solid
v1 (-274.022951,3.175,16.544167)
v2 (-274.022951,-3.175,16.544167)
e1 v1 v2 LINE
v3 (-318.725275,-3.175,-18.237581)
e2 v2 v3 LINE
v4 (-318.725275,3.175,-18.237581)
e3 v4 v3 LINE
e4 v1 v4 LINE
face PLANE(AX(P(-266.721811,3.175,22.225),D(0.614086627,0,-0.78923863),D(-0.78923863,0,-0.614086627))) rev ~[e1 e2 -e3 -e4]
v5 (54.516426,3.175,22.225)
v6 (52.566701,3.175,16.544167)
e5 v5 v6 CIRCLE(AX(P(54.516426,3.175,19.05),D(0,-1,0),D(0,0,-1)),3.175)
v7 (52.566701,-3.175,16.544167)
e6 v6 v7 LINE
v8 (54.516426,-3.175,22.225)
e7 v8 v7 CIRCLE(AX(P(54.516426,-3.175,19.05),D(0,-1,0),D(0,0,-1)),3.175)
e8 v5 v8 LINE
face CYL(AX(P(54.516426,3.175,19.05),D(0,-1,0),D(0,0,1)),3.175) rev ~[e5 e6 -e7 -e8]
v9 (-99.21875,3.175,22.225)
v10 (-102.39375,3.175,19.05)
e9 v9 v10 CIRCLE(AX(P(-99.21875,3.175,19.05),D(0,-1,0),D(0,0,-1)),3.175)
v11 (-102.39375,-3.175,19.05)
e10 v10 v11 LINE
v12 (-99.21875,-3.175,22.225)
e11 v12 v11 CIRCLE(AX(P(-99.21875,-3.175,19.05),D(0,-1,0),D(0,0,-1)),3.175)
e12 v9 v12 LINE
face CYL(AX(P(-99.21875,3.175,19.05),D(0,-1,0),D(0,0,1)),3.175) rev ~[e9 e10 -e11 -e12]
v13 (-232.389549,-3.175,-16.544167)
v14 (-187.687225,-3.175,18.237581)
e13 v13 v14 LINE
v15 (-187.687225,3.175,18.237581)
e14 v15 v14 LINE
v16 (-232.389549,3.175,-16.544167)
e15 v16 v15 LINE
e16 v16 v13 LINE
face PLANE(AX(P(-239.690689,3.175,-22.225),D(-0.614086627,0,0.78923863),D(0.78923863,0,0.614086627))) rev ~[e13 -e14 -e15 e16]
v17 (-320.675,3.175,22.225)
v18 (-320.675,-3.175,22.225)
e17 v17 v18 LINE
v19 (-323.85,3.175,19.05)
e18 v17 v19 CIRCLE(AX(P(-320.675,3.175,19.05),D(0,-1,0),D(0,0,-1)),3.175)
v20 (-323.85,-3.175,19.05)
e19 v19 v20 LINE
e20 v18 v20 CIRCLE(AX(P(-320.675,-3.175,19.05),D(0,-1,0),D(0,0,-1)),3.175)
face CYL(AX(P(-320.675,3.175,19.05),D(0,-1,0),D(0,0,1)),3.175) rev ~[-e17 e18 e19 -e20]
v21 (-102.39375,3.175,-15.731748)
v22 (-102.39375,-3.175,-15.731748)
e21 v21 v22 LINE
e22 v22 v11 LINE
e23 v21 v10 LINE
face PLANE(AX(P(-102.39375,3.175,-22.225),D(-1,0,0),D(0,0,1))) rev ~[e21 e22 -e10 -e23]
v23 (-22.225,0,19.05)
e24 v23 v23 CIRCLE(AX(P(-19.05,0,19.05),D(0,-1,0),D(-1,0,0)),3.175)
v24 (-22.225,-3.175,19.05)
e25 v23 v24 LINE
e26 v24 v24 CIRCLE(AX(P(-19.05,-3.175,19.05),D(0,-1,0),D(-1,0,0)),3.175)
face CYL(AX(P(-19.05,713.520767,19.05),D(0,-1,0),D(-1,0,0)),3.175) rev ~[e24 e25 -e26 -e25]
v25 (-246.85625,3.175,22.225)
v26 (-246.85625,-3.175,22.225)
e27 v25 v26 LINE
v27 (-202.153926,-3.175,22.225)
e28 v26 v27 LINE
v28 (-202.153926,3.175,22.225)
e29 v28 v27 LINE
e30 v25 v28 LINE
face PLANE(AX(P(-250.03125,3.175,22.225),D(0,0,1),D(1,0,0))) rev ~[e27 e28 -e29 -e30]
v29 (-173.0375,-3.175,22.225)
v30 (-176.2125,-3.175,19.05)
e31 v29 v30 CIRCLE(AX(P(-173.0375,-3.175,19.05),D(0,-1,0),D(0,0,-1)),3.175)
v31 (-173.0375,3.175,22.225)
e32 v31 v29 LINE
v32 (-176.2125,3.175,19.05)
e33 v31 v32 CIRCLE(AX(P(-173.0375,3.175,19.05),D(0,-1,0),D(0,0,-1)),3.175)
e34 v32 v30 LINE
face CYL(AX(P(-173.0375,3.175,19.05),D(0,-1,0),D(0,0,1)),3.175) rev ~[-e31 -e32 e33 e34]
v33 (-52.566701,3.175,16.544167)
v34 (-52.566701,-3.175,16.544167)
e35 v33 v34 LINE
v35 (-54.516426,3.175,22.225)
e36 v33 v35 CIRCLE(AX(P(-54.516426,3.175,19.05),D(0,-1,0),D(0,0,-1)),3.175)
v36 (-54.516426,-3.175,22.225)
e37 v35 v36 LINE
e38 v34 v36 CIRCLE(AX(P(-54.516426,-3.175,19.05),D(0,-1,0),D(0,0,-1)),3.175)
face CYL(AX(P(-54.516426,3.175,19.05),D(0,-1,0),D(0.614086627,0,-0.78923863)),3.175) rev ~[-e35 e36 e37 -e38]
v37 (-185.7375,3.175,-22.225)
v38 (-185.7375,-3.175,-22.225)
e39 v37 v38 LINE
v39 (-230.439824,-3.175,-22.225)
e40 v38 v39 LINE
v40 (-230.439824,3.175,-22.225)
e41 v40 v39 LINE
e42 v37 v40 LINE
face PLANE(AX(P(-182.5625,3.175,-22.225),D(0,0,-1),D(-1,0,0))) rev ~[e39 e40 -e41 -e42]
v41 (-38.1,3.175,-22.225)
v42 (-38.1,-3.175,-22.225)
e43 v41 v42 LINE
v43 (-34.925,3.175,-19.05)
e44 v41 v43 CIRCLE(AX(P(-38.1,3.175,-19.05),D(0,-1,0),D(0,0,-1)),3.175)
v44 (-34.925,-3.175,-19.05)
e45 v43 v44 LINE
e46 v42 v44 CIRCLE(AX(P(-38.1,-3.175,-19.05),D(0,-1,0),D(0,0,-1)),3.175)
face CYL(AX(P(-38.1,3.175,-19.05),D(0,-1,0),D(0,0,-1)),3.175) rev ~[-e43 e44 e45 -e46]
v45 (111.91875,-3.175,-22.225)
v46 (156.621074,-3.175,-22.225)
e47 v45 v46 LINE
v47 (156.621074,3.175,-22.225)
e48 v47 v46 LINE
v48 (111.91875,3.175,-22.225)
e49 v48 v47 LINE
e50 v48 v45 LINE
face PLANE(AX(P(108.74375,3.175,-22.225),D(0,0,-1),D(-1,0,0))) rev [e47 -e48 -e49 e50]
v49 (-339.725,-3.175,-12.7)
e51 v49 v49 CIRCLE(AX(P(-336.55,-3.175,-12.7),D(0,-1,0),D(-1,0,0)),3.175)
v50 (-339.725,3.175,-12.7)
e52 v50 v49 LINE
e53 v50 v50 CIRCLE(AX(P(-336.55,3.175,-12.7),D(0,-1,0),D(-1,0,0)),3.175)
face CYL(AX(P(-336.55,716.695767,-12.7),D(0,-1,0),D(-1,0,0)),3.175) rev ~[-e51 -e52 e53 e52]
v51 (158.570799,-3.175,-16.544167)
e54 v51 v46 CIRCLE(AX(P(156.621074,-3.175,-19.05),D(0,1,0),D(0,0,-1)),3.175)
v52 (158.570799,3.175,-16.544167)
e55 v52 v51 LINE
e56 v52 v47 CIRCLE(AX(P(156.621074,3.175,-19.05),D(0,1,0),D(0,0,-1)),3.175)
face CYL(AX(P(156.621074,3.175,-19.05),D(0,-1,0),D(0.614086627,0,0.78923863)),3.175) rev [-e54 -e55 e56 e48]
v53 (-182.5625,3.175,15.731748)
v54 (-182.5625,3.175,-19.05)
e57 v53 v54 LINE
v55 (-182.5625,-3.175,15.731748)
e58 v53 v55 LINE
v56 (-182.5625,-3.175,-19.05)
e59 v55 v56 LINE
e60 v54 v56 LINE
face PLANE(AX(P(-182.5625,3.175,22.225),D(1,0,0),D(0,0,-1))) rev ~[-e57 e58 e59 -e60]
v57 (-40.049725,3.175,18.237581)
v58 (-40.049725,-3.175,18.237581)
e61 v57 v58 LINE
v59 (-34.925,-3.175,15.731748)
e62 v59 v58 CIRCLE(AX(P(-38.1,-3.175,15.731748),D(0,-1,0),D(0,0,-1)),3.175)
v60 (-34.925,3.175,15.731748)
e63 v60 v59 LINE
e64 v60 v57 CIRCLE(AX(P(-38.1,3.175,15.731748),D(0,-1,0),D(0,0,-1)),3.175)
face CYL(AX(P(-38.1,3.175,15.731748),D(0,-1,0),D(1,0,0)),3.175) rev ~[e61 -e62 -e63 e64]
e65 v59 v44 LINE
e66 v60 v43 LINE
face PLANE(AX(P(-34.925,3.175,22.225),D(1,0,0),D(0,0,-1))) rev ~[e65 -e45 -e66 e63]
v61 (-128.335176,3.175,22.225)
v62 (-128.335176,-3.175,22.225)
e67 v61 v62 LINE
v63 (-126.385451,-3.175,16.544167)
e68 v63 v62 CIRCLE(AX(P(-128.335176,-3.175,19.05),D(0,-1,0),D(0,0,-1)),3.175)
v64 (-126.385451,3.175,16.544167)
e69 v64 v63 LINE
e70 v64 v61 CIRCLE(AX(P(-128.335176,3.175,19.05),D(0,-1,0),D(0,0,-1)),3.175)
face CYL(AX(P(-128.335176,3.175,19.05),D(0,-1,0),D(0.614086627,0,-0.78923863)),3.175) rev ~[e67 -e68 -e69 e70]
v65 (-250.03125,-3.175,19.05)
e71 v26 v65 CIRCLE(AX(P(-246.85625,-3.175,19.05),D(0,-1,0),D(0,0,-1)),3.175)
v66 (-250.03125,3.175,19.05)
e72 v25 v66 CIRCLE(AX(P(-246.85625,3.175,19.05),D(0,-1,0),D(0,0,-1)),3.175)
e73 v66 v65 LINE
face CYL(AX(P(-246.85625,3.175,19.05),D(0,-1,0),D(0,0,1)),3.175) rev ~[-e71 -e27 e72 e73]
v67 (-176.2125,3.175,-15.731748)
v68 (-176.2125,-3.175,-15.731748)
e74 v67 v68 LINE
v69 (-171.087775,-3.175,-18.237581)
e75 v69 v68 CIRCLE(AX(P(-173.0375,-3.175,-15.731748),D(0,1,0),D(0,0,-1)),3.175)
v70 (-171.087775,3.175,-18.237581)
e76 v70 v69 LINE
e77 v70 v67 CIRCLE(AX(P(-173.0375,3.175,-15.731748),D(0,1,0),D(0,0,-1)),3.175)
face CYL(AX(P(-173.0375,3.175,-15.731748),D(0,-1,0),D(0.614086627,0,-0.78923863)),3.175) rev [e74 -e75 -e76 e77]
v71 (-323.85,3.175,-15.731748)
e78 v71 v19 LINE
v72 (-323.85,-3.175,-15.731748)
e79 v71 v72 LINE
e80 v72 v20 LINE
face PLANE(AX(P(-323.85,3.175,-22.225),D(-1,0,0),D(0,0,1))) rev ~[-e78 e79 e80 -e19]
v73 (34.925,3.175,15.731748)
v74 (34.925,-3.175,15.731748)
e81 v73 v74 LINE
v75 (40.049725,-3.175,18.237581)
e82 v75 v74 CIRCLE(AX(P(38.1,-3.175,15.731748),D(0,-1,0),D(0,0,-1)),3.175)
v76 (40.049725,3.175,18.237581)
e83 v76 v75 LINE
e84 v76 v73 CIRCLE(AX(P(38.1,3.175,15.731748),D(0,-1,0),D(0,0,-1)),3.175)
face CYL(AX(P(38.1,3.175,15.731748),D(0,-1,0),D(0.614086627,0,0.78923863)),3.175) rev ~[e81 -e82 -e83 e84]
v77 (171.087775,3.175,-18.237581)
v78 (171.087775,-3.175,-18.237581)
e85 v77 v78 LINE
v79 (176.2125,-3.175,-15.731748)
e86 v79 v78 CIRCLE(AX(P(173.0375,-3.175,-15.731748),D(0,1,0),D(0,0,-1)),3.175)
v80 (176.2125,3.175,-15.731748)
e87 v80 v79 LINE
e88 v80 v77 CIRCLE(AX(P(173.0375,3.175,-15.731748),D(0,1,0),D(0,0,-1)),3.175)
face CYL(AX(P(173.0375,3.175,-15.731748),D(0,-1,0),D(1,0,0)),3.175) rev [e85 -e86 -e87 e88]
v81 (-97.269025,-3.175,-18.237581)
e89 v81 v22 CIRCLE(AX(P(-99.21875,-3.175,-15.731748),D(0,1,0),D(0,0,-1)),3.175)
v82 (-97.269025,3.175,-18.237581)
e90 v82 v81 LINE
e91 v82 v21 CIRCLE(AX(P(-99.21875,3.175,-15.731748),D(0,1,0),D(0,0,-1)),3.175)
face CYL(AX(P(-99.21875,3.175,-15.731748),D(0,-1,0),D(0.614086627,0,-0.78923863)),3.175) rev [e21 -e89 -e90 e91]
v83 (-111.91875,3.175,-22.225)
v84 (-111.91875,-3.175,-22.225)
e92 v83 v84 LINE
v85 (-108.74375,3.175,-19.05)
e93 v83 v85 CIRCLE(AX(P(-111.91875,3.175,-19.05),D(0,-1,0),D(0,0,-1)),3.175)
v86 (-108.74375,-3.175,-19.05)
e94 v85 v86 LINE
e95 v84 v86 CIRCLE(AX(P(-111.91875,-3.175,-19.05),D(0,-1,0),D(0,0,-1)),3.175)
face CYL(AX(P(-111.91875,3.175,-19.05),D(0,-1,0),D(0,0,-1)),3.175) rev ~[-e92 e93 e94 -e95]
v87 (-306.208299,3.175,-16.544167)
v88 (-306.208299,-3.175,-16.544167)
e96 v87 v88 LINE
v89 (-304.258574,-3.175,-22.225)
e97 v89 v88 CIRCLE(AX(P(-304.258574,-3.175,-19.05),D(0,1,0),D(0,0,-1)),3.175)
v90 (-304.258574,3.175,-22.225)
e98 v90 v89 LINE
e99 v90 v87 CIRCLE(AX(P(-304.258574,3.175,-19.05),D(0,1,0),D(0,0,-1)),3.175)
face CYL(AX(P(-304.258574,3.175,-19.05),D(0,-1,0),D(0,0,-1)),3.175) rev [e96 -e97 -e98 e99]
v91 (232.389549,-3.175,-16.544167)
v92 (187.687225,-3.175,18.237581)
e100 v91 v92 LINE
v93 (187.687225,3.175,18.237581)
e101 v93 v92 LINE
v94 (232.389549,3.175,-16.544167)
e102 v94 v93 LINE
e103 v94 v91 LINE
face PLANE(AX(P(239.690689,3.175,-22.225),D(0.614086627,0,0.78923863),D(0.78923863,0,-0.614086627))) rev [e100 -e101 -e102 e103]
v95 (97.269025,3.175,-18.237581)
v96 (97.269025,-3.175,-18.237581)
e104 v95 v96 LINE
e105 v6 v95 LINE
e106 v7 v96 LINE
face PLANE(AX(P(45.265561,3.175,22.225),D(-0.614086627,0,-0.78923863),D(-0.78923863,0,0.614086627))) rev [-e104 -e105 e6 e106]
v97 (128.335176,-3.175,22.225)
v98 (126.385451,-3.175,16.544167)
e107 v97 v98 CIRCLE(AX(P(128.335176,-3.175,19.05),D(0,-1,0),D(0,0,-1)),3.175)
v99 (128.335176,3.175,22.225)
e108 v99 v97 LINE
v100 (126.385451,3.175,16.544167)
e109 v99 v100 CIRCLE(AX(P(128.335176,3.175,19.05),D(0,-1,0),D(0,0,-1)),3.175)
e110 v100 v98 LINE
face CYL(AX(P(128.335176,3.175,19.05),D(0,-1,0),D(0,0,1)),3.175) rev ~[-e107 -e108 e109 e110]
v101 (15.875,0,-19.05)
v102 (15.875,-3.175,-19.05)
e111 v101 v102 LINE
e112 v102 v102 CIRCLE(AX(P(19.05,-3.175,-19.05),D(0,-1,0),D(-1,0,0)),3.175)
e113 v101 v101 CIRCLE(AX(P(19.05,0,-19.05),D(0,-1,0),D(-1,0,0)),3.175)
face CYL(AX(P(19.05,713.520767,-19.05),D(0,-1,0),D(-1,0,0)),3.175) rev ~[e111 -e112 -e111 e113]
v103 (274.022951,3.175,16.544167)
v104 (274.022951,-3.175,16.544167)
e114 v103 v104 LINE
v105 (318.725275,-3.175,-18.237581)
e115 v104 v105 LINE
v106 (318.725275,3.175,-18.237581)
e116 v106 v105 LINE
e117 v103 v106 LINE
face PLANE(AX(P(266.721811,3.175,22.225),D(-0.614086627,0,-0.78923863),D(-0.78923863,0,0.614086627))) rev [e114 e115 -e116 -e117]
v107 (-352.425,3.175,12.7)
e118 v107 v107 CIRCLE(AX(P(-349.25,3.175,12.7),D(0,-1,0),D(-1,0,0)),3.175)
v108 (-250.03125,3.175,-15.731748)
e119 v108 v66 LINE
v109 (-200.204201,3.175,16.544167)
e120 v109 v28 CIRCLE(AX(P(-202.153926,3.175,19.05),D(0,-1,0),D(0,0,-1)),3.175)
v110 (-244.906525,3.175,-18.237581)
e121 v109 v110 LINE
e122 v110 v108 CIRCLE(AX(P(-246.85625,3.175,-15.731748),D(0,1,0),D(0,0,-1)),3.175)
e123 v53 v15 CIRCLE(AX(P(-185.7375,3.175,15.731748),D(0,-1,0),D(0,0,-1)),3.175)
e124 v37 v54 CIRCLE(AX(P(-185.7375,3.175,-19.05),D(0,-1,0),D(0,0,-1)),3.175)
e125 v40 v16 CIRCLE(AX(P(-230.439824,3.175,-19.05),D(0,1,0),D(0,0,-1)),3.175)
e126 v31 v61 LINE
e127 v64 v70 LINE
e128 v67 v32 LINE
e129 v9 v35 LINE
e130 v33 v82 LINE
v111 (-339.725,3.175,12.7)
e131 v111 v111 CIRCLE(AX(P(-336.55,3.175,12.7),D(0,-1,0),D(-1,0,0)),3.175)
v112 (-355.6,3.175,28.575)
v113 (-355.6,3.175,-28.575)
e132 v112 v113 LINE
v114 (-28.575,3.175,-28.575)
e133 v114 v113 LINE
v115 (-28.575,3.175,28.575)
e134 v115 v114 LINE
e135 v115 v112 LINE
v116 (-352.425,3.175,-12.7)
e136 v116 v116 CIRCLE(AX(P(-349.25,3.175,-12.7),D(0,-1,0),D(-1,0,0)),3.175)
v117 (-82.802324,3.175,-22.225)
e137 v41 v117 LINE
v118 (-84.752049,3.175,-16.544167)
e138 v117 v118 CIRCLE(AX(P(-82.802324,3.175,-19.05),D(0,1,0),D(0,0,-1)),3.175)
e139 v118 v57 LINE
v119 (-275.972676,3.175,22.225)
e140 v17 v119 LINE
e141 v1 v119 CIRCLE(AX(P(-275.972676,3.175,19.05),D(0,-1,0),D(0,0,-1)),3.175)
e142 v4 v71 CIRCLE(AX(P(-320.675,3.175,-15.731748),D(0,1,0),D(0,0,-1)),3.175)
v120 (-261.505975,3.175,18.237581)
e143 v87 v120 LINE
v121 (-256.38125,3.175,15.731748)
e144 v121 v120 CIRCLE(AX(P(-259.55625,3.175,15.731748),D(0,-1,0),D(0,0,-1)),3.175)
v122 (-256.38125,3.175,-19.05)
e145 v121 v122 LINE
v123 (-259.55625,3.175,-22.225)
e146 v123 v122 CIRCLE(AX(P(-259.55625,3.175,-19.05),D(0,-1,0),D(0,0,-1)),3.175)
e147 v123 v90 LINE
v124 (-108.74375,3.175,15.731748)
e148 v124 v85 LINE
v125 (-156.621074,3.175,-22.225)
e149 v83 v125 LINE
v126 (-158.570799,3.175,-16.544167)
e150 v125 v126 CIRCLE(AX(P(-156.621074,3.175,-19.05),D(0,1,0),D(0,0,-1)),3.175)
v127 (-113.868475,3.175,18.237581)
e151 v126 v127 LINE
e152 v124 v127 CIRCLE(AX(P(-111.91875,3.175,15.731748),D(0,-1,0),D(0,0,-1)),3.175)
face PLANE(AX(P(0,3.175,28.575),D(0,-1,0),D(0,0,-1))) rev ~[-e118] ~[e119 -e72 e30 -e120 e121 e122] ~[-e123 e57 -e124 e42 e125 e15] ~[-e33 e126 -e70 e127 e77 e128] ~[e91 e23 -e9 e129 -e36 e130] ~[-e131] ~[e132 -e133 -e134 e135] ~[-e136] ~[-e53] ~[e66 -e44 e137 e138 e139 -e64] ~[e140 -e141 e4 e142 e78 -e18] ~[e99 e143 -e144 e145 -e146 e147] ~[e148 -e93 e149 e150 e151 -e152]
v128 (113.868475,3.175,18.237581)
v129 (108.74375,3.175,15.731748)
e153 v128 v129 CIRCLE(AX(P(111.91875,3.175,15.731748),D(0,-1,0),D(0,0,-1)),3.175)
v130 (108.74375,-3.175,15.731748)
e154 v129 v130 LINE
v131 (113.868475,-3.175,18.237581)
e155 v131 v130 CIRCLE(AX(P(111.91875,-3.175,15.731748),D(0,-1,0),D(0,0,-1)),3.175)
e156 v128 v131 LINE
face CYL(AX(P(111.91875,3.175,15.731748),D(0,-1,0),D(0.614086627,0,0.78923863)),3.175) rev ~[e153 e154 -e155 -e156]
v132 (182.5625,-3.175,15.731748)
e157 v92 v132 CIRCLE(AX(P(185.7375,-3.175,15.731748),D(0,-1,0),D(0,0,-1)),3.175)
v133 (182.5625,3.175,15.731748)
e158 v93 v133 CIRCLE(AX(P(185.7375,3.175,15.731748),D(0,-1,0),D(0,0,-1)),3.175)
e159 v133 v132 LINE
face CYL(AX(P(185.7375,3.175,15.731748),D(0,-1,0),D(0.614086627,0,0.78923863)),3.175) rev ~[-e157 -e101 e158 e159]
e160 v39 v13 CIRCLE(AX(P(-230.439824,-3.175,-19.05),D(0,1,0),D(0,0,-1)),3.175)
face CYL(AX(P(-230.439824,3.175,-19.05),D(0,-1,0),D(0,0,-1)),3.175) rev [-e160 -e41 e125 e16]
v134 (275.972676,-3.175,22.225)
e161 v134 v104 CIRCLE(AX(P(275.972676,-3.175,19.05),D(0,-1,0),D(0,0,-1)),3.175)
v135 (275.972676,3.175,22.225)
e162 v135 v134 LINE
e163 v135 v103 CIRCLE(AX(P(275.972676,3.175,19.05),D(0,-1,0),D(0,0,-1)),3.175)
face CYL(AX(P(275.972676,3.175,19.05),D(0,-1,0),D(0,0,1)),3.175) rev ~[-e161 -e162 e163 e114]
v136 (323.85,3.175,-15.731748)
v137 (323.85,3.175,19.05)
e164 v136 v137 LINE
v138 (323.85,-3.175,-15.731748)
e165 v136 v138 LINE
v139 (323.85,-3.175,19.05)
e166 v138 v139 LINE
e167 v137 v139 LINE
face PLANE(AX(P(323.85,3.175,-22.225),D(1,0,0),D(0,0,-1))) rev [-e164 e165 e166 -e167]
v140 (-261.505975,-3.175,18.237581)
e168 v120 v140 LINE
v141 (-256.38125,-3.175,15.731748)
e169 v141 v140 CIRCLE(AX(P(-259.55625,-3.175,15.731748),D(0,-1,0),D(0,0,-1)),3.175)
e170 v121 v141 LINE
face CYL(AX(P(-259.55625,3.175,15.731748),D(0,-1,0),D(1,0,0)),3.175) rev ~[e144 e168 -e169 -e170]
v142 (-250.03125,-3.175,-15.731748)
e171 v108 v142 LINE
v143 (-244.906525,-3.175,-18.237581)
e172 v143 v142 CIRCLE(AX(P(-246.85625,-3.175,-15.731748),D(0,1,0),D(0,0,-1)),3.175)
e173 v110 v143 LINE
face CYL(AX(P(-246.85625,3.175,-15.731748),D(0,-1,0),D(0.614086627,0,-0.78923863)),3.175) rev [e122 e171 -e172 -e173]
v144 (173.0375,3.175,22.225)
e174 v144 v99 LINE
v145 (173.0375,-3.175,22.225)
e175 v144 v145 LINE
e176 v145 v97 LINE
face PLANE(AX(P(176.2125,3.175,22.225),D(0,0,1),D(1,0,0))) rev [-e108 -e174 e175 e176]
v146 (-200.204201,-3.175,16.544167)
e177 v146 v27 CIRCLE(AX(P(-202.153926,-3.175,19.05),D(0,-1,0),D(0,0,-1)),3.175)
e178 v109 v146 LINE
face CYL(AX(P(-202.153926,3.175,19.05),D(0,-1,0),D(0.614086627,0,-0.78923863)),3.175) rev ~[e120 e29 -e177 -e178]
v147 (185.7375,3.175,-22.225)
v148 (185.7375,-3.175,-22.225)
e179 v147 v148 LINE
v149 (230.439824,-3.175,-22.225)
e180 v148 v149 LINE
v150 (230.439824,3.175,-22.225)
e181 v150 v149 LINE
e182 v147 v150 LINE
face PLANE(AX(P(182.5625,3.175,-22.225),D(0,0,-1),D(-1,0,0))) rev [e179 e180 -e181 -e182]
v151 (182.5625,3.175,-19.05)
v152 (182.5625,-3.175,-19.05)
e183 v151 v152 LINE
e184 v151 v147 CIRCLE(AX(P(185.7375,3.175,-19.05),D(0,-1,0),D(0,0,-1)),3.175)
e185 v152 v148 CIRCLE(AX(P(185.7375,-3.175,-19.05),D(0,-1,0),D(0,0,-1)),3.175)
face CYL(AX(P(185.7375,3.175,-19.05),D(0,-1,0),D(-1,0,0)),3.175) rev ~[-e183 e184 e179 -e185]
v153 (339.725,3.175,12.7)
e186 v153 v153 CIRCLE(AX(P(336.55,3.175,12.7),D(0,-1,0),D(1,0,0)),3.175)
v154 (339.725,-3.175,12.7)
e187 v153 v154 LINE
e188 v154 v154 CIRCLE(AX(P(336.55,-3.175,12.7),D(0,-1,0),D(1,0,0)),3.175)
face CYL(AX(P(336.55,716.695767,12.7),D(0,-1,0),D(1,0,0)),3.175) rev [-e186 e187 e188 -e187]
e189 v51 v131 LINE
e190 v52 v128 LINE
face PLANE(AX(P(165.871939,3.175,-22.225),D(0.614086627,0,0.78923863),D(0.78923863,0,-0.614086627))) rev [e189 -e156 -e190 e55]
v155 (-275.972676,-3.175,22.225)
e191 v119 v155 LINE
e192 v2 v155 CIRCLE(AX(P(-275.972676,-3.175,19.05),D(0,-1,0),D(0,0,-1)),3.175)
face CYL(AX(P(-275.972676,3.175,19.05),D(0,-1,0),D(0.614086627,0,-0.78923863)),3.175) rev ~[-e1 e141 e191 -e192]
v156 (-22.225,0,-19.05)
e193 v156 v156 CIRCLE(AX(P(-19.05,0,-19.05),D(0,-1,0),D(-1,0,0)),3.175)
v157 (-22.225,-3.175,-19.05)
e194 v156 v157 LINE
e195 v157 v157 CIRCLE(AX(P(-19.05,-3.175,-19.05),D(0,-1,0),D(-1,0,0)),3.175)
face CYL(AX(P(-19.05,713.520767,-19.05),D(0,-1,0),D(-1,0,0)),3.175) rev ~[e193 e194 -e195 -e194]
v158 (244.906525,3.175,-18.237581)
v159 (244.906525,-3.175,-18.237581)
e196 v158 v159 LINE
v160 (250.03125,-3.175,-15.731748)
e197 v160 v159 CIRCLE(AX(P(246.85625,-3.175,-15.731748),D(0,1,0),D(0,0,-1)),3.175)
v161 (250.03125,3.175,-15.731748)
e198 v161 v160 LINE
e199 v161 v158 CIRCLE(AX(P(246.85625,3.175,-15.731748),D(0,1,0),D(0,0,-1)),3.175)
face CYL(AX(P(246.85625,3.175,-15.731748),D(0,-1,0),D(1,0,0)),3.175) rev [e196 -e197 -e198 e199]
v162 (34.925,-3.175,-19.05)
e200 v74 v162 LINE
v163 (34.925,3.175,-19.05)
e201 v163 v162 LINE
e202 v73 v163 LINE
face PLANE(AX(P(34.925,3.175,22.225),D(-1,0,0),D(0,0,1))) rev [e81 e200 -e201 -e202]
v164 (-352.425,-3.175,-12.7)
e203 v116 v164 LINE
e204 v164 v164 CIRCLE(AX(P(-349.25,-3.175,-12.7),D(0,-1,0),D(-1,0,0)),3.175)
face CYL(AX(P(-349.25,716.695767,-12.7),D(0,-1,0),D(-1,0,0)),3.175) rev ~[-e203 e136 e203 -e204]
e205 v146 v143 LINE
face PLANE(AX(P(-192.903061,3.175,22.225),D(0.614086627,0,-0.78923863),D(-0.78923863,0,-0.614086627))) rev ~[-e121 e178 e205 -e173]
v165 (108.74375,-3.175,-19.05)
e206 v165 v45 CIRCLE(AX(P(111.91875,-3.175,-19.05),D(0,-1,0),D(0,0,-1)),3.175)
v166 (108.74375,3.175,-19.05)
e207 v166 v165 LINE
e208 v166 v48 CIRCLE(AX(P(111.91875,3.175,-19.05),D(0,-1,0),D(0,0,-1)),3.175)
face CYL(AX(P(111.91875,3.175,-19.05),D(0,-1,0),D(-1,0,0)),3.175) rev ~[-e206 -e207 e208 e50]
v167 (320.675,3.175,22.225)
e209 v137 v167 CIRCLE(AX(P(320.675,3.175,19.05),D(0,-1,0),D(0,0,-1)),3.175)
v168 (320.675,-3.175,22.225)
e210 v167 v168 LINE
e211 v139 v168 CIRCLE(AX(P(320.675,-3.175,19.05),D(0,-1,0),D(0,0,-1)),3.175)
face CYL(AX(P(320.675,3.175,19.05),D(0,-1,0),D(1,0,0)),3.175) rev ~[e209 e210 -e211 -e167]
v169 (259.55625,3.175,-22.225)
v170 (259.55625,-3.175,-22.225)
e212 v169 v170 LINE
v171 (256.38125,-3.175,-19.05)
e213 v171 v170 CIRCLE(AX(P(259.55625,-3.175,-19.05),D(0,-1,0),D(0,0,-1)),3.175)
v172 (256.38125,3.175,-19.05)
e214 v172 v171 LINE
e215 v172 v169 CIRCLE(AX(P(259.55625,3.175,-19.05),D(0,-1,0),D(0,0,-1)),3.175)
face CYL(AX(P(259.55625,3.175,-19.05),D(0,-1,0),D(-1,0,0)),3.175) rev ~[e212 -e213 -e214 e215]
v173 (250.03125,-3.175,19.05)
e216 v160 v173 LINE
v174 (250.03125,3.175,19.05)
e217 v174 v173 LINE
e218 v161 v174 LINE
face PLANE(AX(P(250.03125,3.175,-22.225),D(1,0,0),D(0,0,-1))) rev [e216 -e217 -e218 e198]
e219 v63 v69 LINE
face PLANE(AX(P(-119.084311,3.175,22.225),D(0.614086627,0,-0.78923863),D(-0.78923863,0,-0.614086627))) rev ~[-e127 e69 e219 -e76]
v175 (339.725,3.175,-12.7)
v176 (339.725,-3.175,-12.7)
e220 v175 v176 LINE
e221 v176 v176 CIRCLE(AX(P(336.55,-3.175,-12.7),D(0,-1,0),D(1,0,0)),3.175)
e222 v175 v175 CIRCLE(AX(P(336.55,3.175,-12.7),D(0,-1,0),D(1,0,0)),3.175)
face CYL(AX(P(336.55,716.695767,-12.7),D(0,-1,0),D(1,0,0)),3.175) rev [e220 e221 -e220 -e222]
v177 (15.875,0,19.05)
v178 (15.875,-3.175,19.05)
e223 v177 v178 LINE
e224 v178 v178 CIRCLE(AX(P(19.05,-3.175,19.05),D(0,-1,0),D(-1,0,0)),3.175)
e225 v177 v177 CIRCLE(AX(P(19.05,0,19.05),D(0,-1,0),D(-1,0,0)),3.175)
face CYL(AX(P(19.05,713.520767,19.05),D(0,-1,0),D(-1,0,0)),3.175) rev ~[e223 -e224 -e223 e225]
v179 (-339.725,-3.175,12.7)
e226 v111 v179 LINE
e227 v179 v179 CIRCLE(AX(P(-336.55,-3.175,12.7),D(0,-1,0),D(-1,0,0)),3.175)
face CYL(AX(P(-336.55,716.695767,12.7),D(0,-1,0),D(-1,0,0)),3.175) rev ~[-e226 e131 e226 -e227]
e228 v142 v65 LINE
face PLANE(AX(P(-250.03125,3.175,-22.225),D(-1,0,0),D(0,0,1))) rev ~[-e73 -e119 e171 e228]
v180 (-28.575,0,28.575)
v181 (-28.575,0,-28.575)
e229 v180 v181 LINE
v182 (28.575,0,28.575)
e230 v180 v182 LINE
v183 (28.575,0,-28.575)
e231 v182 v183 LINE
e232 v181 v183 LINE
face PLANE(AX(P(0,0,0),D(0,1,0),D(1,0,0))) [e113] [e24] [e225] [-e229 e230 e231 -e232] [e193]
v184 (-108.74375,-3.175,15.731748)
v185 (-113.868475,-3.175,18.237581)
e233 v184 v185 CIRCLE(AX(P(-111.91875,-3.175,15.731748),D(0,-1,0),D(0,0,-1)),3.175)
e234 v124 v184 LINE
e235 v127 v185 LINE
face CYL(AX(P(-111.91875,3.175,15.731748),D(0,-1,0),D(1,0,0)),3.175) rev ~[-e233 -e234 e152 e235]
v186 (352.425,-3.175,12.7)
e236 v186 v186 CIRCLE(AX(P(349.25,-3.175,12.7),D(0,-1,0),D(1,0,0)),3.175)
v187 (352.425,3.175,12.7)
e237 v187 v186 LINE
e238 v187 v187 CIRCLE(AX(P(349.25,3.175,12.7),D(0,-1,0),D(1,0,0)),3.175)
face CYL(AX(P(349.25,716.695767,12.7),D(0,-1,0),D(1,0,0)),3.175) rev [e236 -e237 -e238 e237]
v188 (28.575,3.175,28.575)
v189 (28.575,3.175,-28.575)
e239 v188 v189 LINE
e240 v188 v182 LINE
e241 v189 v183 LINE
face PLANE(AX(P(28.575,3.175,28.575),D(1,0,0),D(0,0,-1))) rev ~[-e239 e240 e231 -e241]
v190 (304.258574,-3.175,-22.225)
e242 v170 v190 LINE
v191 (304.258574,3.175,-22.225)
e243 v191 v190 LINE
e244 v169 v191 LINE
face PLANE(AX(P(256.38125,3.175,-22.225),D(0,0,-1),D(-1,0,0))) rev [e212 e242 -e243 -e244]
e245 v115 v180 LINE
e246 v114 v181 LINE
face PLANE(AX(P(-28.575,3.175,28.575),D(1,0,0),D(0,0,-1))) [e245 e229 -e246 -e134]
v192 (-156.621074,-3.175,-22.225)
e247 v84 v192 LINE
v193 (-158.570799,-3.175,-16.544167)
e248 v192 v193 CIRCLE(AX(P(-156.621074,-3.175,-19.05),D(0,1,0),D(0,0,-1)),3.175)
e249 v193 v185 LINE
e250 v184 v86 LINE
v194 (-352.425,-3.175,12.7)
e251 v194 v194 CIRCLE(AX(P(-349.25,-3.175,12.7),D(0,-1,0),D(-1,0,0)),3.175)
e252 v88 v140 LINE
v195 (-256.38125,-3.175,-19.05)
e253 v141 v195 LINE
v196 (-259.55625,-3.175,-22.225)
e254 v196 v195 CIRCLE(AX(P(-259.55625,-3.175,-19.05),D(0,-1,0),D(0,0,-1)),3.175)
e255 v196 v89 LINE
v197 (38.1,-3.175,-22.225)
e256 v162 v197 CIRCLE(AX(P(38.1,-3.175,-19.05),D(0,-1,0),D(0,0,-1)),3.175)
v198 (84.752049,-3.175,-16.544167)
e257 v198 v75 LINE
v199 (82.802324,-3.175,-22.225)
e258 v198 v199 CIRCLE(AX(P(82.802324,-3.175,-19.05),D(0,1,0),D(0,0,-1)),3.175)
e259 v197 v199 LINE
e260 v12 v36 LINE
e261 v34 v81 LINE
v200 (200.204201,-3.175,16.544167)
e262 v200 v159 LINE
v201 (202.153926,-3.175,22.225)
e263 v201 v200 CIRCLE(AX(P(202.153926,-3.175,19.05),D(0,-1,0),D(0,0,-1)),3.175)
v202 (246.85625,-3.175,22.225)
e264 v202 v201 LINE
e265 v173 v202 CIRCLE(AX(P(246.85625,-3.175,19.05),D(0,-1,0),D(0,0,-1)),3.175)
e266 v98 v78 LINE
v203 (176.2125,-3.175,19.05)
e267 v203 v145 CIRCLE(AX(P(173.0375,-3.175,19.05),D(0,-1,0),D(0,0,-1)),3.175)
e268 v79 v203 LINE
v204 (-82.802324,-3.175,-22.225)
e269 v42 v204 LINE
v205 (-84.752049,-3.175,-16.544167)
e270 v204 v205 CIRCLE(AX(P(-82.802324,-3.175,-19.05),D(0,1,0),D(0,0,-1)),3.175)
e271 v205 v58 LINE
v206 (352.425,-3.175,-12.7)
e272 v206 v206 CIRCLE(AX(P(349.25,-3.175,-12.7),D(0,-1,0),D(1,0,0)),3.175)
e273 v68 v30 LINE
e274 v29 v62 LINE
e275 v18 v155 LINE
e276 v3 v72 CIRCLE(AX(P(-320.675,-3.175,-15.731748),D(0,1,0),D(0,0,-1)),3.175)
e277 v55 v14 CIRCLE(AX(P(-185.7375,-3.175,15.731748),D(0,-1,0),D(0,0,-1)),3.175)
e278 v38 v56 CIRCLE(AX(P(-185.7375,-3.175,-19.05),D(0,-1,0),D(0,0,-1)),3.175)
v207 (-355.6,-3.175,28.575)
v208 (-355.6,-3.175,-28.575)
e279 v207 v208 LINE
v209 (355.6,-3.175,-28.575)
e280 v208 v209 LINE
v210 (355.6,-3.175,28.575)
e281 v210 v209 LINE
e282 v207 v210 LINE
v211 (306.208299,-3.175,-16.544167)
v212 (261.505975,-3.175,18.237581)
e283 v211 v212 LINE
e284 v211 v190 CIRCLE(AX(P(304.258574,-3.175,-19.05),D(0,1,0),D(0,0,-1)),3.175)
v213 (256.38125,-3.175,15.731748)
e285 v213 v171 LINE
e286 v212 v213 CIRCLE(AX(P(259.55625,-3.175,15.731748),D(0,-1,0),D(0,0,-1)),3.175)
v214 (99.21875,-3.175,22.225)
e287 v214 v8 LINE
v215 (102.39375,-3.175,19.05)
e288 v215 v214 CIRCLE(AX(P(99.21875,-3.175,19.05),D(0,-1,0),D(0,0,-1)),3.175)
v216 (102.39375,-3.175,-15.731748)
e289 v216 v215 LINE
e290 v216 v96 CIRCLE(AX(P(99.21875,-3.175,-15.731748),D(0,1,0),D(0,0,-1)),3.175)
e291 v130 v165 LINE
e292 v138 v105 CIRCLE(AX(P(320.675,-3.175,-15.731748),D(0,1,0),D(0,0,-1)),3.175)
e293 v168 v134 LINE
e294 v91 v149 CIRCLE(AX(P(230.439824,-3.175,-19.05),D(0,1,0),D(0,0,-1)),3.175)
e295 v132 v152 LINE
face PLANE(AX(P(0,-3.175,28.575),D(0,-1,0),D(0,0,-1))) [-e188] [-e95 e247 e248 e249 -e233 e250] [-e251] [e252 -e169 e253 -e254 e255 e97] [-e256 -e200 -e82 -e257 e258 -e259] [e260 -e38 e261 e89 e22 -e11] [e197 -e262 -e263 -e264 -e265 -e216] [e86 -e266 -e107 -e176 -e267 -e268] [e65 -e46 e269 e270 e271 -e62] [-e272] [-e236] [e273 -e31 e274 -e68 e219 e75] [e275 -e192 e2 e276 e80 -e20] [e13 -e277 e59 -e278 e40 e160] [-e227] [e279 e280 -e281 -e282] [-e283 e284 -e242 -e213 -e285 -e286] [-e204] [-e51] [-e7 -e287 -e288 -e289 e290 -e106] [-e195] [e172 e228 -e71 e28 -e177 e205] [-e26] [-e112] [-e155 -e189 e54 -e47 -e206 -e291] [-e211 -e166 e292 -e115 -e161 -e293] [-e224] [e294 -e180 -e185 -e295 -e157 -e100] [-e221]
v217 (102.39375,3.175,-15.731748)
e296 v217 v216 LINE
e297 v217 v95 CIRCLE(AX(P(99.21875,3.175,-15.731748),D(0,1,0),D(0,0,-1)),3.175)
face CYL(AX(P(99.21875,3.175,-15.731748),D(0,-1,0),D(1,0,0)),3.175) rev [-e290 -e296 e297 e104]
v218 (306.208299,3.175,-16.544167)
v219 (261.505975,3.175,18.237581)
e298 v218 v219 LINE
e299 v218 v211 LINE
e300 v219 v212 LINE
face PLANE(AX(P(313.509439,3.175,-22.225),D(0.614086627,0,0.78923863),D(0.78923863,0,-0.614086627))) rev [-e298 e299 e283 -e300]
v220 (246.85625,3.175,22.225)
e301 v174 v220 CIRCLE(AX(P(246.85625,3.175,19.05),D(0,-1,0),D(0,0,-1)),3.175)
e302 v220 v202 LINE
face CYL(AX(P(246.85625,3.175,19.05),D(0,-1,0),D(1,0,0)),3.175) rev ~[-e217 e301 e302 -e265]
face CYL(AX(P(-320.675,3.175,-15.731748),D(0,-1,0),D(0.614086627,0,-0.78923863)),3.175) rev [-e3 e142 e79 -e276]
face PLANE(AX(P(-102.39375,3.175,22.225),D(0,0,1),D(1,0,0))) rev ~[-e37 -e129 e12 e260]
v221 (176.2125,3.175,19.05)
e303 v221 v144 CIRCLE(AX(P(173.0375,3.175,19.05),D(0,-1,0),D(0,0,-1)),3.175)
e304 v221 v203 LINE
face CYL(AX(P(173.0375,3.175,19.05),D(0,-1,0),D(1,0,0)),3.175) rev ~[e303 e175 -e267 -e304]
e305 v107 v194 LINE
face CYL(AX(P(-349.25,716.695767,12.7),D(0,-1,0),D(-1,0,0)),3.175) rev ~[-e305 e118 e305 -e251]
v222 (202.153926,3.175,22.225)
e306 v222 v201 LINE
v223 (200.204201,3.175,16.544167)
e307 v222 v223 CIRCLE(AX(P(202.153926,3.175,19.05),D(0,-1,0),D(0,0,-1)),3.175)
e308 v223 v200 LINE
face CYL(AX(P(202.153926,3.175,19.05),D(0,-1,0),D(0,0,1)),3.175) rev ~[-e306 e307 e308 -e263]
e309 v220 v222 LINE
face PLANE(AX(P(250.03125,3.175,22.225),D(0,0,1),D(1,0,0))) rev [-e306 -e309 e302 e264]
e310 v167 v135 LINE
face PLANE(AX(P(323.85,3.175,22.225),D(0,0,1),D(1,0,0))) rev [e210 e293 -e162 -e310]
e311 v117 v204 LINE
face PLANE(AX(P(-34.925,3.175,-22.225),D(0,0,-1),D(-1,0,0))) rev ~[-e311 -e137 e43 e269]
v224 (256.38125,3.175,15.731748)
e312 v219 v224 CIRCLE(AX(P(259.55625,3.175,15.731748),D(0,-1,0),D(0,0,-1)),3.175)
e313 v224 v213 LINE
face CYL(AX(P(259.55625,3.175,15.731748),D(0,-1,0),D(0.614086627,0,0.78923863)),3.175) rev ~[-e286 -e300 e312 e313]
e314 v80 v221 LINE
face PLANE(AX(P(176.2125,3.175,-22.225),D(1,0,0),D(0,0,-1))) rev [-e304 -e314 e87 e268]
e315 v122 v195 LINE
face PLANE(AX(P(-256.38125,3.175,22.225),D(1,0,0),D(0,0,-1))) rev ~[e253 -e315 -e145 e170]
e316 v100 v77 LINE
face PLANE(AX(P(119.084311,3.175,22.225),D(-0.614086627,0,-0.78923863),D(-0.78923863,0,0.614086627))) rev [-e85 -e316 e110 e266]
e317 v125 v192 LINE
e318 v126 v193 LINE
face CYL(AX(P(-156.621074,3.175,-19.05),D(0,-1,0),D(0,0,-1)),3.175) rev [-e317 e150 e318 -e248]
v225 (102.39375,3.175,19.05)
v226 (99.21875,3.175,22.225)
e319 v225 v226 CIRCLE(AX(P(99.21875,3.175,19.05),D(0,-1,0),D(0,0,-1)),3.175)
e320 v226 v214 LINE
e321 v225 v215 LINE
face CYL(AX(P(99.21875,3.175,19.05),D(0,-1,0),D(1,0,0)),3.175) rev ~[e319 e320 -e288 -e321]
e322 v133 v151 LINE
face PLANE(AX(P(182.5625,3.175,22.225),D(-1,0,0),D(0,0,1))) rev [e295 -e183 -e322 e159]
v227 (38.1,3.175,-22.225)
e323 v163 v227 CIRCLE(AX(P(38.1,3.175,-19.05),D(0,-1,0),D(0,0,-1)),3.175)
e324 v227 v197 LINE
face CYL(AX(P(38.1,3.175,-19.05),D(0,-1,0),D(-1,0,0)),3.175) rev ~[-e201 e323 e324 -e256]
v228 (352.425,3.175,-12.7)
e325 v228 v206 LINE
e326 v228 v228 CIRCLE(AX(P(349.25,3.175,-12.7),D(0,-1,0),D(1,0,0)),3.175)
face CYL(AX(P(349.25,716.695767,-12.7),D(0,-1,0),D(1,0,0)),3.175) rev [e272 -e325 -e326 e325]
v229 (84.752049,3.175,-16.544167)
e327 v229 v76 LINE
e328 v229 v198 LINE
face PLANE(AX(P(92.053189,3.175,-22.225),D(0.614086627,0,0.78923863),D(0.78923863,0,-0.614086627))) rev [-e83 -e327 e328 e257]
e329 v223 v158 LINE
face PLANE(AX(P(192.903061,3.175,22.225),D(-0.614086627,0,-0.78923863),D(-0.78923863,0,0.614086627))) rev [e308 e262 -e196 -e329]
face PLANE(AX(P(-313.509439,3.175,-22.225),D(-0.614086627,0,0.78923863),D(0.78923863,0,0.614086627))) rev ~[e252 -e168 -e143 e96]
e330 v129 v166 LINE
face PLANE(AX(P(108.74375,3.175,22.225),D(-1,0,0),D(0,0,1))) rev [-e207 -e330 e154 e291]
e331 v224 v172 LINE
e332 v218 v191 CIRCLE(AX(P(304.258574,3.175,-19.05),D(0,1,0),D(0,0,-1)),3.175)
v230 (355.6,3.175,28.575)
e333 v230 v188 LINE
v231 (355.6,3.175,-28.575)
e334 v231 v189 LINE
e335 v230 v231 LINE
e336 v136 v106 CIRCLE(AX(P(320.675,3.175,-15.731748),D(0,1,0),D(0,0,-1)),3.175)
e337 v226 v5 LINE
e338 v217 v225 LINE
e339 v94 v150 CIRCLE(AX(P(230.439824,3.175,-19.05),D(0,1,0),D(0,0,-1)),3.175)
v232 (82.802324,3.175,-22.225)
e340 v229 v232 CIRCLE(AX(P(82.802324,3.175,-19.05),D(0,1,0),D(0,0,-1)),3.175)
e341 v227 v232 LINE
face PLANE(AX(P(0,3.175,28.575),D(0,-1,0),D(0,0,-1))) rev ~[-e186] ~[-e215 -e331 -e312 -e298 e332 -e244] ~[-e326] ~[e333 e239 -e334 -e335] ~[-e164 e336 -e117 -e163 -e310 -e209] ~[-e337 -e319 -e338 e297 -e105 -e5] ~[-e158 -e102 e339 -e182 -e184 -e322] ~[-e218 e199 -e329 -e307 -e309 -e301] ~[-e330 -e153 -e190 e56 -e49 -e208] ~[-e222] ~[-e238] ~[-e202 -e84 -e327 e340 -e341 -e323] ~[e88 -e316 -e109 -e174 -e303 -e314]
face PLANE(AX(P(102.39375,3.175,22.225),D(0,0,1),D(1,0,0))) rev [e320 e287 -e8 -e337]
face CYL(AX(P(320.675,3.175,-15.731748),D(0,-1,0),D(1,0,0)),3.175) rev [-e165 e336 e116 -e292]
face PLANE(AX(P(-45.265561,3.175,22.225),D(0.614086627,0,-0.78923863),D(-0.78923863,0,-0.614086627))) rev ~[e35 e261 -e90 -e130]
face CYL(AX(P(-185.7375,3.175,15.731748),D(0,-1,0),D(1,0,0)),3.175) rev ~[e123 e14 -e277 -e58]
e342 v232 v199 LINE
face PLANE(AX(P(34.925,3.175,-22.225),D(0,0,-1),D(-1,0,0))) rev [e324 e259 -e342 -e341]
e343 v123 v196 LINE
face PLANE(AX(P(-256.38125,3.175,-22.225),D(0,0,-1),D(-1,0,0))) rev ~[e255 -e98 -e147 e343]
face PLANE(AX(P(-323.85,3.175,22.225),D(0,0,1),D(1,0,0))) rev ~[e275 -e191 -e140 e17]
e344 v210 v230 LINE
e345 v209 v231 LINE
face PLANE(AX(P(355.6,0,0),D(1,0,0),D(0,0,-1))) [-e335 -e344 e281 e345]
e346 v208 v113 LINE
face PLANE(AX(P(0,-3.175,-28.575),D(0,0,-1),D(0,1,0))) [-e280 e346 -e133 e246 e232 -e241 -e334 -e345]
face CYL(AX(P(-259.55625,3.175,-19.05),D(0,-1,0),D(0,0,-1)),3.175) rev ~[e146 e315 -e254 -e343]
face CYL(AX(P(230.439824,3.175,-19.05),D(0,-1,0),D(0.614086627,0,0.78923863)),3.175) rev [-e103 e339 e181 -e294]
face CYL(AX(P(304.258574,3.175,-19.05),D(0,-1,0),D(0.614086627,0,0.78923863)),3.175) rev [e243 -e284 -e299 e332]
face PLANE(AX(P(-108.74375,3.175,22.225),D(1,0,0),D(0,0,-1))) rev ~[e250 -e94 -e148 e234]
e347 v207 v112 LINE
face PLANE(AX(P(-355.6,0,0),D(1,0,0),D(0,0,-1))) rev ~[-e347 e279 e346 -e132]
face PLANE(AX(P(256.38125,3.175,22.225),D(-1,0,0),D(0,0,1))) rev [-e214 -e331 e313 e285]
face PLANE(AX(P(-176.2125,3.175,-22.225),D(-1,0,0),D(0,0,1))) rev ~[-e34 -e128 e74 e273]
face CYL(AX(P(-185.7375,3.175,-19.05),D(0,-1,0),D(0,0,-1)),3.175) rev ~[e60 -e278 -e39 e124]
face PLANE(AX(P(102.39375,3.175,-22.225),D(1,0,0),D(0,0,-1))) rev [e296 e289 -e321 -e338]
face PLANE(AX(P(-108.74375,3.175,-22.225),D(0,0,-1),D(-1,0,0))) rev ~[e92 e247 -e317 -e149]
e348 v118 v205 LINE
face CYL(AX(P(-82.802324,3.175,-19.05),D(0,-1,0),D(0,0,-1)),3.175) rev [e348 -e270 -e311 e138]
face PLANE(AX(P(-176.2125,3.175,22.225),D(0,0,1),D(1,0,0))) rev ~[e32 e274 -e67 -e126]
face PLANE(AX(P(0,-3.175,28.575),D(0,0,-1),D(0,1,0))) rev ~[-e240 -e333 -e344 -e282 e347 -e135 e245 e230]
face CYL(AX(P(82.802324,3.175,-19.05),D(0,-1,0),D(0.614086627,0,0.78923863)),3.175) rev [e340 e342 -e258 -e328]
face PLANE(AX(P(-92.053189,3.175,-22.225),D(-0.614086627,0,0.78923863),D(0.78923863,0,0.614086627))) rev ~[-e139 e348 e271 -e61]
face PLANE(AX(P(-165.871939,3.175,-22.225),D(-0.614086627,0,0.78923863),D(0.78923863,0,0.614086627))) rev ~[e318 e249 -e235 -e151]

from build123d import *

# Parameters (mm, degrees)
SKETCH2_W                   = 57.15
SKETCH2_H                   = 6.35
BOSS_EXTRUDE2_DEPTH         = 355.6
F_1_4_0_25_DIAMETER_HOLE1_D = 6.35
CUT_EXTRUDE1_REACH          = 358.803
FILLET1_R                   = 3.175
FILLET1_OF_MIRROR1_R        = 3.175
SKETCH7_W                   = 57.15
SKETCH7_H                   = 57.15
CUT_EXTRUDE2_DEPTH          = 3.175
F_1_4_0_25_DIAMETER_HOLE2_D = 6.35


with BuildPart() as part:
    # Sketch2 → Boss-Extrude2 (new, symmetric)
    with BuildSketch(Plane(origin=(0, 0, 0), x_dir=(0, 0, -1), z_dir=(1, 0, 0))):
        Rectangle(SKETCH2_W, SKETCH2_H)
    extrude(amount=BOSS_EXTRUDE2_DEPTH, both=True)

    # 1/4 (0.25) Diameter Hole1 (through all)
    with Locations(Plane(origin=(0, 3.175, 0), x_dir=(1, 0, 0), z_dir=(0, 1, 0))):
        with Locations((-349.25, -12.7), (-349.25, 12.7), (-336.55, 12.7), (-336.55, -12.7)):
            f_1_4_0_25_diameter_hole1 = Hole(F_1_4_0_25_DIAMETER_HOLE1_D / 2)

    # Sketch6 → Cut-Extrude1 (cut, up to next)
    with BuildSketch(Plane(origin=(0, 3.175, 0), x_dir=(1, 0, 0), z_dir=(0, 1, 0)), mode=Mode.PRIVATE) as cut_extrude1_sk1:
        Polygon((-323.85, 22.225), (-323.85, -22.225), (-266.721810637, -22.225), align=None)
    cut_extrude1_tool1 = extrude(cut_extrude1_sk1.sketch, amount=-CUT_EXTRUDE1_REACH, mode=Mode.PRIVATE) & part.part
    # Sketch6 → Cut-Extrude1 (cut, up to next)
    with BuildSketch(Plane(origin=(0, 3.175, 0), x_dir=(1, 0, 0), z_dir=(0, 1, 0)), mode=Mode.PRIVATE) as cut_extrude1_sk2:
        Polygon((-313.509439363, 22.225), (-256.38125, -22.225), (-256.38125, 22.225), align=None)
    cut_extrude1_tool2 = extrude(cut_extrude1_sk2.sketch, amount=-CUT_EXTRUDE1_REACH, mode=Mode.PRIVATE) & part.part
    # Sketch6 → Cut-Extrude1 (cut, up to next)
    with BuildSketch(Plane(origin=(0, 3.175, 0), x_dir=(1, 0, 0), z_dir=(0, 1, 0)), mode=Mode.PRIVATE) as cut_extrude1_sk3:
        Polygon((-250.03125, 22.225), (-250.03125, -22.225), (-192.903060637, -22.225), align=None)
    cut_extrude1_tool3 = extrude(cut_extrude1_sk3.sketch, amount=-CUT_EXTRUDE1_REACH, mode=Mode.PRIVATE) & part.part
    # Sketch6 → Cut-Extrude1 (cut, up to next)
    with BuildSketch(Plane(origin=(0, 3.175, 0), x_dir=(1, 0, 0), z_dir=(0, 1, 0)), mode=Mode.PRIVATE) as cut_extrude1_sk4:
        Polygon((-239.690689363, 22.225), (-182.5625, -22.225), (-182.5625, 22.225), align=None)
    cut_extrude1_tool4 = extrude(cut_extrude1_sk4.sketch, amount=-CUT_EXTRUDE1_REACH, mode=Mode.PRIVATE) & part.part
    # Sketch6 → Cut-Extrude1 (cut, up to next)
    with BuildSketch(Plane(origin=(0, 3.175, 0), x_dir=(1, 0, 0), z_dir=(0, 1, 0)), mode=Mode.PRIVATE) as cut_extrude1_sk5:
        Polygon((-176.2125, 22.225), (-176.2125, -22.225), (-119.084310637, -22.225), align=None)
    cut_extrude1_tool5 = extrude(cut_extrude1_sk5.sketch, amount=-CUT_EXTRUDE1_REACH, mode=Mode.PRIVATE) & part.part
    # Sketch6 → Cut-Extrude1 (cut, up to next)
    with BuildSketch(Plane(origin=(0, 3.175, 0), x_dir=(1, 0, 0), z_dir=(0, 1, 0)), mode=Mode.PRIVATE) as cut_extrude1_sk6:
        Polygon((-165.871939363, 22.225), (-108.74375, -22.225), (-108.74375, 22.225), align=None)
    cut_extrude1_tool6 = extrude(cut_extrude1_sk6.sketch, amount=-CUT_EXTRUDE1_REACH, mode=Mode.PRIVATE) & part.part
    # Sketch6 → Cut-Extrude1 (cut, up to next)
    with BuildSketch(Plane(origin=(0, 3.175, 0), x_dir=(1, 0, 0), z_dir=(0, 1, 0)), mode=Mode.PRIVATE) as cut_extrude1_sk7:
        Polygon((-102.39375, 22.225), (-102.39375, -22.225), (-45.265560637, -22.225), align=None)
    cut_extrude1_tool7 = extrude(cut_extrude1_sk7.sketch, amount=-CUT_EXTRUDE1_REACH, mode=Mode.PRIVATE) & part.part
    # Sketch6 → Cut-Extrude1 (cut, up to next)
    with BuildSketch(Plane(origin=(0, 3.175, 0), x_dir=(1, 0, 0), z_dir=(0, 1, 0)), mode=Mode.PRIVATE) as cut_extrude1_sk8:
        Polygon((-92.053189363, 22.225), (-34.925, -22.225), (-34.925, 22.225), align=None)
    cut_extrude1_tool8 = extrude(cut_extrude1_sk8.sketch, amount=-CUT_EXTRUDE1_REACH, mode=Mode.PRIVATE) & part.part
    cut_extrude1_1 = cut_extrude1_tool1.solids().sort_by_distance((-304.80727, 3.175, 7.408333))[0]
    add(cut_extrude1_1, mode=Mode.SUBTRACT)
    cut_extrude1_2 = cut_extrude1_tool2.solids().sort_by_distance((-275.42398, 3.175, -7.408333))[0]
    add(cut_extrude1_2, mode=Mode.SUBTRACT)
    cut_extrude1_3 = cut_extrude1_tool3.solids().sort_by_distance((-230.98852, 3.175, 7.408333))[0]
    add(cut_extrude1_3, mode=Mode.SUBTRACT)
    cut_extrude1_4 = cut_extrude1_tool4.solids().sort_by_distance((-201.60523, 3.175, -7.408333))[0]
    add(cut_extrude1_4, mode=Mode.SUBTRACT)
    cut_extrude1_5 = cut_extrude1_tool5.solids().sort_by_distance((-157.16977, 3.175, 7.408333))[0]
    add(cut_extrude1_5, mode=Mode.SUBTRACT)
    cut_extrude1_6 = cut_extrude1_tool6.solids().sort_by_distance((-127.78648, 3.175, -7.408333))[0]
    add(cut_extrude1_6, mode=Mode.SUBTRACT)
    cut_extrude1_7 = cut_extrude1_tool7.solids().sort_by_distance((-83.35102, 3.175, 7.408333))[0]
    add(cut_extrude1_7, mode=Mode.SUBTRACT)
    cut_extrude1_8 = cut_extrude1_tool8.solids().sort_by_distance((-53.96773, 3.175, -7.408333))[0]
    add(cut_extrude1_8, mode=Mode.SUBTRACT)
    cut_extrude1 = cut_extrude1_1 + cut_extrude1_2 + cut_extrude1_3 + cut_extrude1_4 + cut_extrude1_5 + cut_extrude1_6 + cut_extrude1_7 + cut_extrude1_8  # Cut-Extrude1 as one shape, for the pattern or mirror that repeats it

    # Fillet1
    fillet1_edges = [part.edges().sort_by_distance(p)[0] for p in [
        (-92.053189363, 0, -22.225),
        (-34.925, 0, -22.225),
        (-34.925, 0, 22.225),
        (-323.85, 0, -22.225),
        (-266.721810637, 0, 22.225),
        (-323.85, 0, 22.225),
        (-313.509439363, 0, -22.225),
        (-256.38125, 0, -22.225),
        (-256.38125, 0, 22.225),
        (-250.03125, 0, -22.225),
        (-192.903060637, 0, 22.225),
        (-250.03125, 0, 22.225),
        (-239.690689363, 0, -22.225),
        (-182.5625, 0, -22.225),
        (-182.5625, 0, 22.225),
        (-176.2125, 0, -22.225),
        (-119.084310637, 0, 22.225),
        (-176.2125, 0, 22.225),
        (-165.871939363, 0, -22.225),
        (-108.74375, 0, -22.225),
        (-108.74375, 0, 22.225),
        (-102.39375, 0, -22.225),
        (-45.265560637, 0, 22.225),
        (-102.39375, 0, 22.225),
    ]]
    fillet(fillet1_edges, radius=FILLET1_R)

    # Mirror1: 1/4 (0.25) Diameter Hole1, Cut-Extrude1 across plane
    add(f_1_4_0_25_diameter_hole1.mirror(Plane(origin=(0, 0, 0), x_dir=(0, 0, 1), z_dir=(1, 0, 0))), mode=Mode.SUBTRACT)
    add(cut_extrude1.mirror(Plane(origin=(0, 0, 0), x_dir=(0, 0, 1), z_dir=(1, 0, 0))), mode=Mode.SUBTRACT)

    # Fillet1 of Mirror1
    fillet1_of_mirror1_edges = [part.edges().sort_by_distance(p)[0] for p in [
        (92.053189363, 0, -22.225),
        (34.925, 0, -22.225),
        (34.925, 0, 22.225),
        (323.85, 0, -22.225),
        (266.721810637, 0, 22.225),
        (323.85, 0, 22.225),
        (313.509439363, 0, -22.225),
        (256.38125, 0, -22.225),
        (256.38125, 0, 22.225),
        (250.03125, 0, -22.225),
        (192.903060637, 0, 22.225),
        (250.03125, 0, 22.225),
        (239.690689363, 0, -22.225),
        (182.5625, 0, -22.225),
        (182.5625, 0, 22.225),
        (176.2125, 0, -22.225),
        (119.084310637, 0, 22.225),
        (176.2125, 0, 22.225),
        (165.871939363, 0, -22.225),
        (108.74375, 0, -22.225),
        (108.74375, 0, 22.225),
        (102.39375, 0, -22.225),
        (45.265560637, 0, 22.225),
        (102.39375, 0, 22.225),
    ]]
    fillet(fillet1_of_mirror1_edges, radius=FILLET1_OF_MIRROR1_R)

    # Sketch7 → Cut-Extrude2 (cut)
    with BuildSketch(Plane(origin=(0, 3.175, 0), x_dir=(1, 0, 0), z_dir=(0, 1, 0))):
        Rectangle(SKETCH7_W, SKETCH7_H)
    extrude(amount=-CUT_EXTRUDE2_DEPTH, mode=Mode.SUBTRACT)

    # 1/4 (0.25) Diameter Hole2 (through all)
    with Locations(Plane(origin=(0, 0, 0), x_dir=(1, 0, 0), z_dir=(0, 1, 0))):
        with Locations((19.05, -19.05), (-19.05, 19.05), (-19.05, -19.05), (19.05, 19.05)):
            Hole(F_1_4_0_25_DIAMETER_HOLE2_D / 2)


solid = part.part
